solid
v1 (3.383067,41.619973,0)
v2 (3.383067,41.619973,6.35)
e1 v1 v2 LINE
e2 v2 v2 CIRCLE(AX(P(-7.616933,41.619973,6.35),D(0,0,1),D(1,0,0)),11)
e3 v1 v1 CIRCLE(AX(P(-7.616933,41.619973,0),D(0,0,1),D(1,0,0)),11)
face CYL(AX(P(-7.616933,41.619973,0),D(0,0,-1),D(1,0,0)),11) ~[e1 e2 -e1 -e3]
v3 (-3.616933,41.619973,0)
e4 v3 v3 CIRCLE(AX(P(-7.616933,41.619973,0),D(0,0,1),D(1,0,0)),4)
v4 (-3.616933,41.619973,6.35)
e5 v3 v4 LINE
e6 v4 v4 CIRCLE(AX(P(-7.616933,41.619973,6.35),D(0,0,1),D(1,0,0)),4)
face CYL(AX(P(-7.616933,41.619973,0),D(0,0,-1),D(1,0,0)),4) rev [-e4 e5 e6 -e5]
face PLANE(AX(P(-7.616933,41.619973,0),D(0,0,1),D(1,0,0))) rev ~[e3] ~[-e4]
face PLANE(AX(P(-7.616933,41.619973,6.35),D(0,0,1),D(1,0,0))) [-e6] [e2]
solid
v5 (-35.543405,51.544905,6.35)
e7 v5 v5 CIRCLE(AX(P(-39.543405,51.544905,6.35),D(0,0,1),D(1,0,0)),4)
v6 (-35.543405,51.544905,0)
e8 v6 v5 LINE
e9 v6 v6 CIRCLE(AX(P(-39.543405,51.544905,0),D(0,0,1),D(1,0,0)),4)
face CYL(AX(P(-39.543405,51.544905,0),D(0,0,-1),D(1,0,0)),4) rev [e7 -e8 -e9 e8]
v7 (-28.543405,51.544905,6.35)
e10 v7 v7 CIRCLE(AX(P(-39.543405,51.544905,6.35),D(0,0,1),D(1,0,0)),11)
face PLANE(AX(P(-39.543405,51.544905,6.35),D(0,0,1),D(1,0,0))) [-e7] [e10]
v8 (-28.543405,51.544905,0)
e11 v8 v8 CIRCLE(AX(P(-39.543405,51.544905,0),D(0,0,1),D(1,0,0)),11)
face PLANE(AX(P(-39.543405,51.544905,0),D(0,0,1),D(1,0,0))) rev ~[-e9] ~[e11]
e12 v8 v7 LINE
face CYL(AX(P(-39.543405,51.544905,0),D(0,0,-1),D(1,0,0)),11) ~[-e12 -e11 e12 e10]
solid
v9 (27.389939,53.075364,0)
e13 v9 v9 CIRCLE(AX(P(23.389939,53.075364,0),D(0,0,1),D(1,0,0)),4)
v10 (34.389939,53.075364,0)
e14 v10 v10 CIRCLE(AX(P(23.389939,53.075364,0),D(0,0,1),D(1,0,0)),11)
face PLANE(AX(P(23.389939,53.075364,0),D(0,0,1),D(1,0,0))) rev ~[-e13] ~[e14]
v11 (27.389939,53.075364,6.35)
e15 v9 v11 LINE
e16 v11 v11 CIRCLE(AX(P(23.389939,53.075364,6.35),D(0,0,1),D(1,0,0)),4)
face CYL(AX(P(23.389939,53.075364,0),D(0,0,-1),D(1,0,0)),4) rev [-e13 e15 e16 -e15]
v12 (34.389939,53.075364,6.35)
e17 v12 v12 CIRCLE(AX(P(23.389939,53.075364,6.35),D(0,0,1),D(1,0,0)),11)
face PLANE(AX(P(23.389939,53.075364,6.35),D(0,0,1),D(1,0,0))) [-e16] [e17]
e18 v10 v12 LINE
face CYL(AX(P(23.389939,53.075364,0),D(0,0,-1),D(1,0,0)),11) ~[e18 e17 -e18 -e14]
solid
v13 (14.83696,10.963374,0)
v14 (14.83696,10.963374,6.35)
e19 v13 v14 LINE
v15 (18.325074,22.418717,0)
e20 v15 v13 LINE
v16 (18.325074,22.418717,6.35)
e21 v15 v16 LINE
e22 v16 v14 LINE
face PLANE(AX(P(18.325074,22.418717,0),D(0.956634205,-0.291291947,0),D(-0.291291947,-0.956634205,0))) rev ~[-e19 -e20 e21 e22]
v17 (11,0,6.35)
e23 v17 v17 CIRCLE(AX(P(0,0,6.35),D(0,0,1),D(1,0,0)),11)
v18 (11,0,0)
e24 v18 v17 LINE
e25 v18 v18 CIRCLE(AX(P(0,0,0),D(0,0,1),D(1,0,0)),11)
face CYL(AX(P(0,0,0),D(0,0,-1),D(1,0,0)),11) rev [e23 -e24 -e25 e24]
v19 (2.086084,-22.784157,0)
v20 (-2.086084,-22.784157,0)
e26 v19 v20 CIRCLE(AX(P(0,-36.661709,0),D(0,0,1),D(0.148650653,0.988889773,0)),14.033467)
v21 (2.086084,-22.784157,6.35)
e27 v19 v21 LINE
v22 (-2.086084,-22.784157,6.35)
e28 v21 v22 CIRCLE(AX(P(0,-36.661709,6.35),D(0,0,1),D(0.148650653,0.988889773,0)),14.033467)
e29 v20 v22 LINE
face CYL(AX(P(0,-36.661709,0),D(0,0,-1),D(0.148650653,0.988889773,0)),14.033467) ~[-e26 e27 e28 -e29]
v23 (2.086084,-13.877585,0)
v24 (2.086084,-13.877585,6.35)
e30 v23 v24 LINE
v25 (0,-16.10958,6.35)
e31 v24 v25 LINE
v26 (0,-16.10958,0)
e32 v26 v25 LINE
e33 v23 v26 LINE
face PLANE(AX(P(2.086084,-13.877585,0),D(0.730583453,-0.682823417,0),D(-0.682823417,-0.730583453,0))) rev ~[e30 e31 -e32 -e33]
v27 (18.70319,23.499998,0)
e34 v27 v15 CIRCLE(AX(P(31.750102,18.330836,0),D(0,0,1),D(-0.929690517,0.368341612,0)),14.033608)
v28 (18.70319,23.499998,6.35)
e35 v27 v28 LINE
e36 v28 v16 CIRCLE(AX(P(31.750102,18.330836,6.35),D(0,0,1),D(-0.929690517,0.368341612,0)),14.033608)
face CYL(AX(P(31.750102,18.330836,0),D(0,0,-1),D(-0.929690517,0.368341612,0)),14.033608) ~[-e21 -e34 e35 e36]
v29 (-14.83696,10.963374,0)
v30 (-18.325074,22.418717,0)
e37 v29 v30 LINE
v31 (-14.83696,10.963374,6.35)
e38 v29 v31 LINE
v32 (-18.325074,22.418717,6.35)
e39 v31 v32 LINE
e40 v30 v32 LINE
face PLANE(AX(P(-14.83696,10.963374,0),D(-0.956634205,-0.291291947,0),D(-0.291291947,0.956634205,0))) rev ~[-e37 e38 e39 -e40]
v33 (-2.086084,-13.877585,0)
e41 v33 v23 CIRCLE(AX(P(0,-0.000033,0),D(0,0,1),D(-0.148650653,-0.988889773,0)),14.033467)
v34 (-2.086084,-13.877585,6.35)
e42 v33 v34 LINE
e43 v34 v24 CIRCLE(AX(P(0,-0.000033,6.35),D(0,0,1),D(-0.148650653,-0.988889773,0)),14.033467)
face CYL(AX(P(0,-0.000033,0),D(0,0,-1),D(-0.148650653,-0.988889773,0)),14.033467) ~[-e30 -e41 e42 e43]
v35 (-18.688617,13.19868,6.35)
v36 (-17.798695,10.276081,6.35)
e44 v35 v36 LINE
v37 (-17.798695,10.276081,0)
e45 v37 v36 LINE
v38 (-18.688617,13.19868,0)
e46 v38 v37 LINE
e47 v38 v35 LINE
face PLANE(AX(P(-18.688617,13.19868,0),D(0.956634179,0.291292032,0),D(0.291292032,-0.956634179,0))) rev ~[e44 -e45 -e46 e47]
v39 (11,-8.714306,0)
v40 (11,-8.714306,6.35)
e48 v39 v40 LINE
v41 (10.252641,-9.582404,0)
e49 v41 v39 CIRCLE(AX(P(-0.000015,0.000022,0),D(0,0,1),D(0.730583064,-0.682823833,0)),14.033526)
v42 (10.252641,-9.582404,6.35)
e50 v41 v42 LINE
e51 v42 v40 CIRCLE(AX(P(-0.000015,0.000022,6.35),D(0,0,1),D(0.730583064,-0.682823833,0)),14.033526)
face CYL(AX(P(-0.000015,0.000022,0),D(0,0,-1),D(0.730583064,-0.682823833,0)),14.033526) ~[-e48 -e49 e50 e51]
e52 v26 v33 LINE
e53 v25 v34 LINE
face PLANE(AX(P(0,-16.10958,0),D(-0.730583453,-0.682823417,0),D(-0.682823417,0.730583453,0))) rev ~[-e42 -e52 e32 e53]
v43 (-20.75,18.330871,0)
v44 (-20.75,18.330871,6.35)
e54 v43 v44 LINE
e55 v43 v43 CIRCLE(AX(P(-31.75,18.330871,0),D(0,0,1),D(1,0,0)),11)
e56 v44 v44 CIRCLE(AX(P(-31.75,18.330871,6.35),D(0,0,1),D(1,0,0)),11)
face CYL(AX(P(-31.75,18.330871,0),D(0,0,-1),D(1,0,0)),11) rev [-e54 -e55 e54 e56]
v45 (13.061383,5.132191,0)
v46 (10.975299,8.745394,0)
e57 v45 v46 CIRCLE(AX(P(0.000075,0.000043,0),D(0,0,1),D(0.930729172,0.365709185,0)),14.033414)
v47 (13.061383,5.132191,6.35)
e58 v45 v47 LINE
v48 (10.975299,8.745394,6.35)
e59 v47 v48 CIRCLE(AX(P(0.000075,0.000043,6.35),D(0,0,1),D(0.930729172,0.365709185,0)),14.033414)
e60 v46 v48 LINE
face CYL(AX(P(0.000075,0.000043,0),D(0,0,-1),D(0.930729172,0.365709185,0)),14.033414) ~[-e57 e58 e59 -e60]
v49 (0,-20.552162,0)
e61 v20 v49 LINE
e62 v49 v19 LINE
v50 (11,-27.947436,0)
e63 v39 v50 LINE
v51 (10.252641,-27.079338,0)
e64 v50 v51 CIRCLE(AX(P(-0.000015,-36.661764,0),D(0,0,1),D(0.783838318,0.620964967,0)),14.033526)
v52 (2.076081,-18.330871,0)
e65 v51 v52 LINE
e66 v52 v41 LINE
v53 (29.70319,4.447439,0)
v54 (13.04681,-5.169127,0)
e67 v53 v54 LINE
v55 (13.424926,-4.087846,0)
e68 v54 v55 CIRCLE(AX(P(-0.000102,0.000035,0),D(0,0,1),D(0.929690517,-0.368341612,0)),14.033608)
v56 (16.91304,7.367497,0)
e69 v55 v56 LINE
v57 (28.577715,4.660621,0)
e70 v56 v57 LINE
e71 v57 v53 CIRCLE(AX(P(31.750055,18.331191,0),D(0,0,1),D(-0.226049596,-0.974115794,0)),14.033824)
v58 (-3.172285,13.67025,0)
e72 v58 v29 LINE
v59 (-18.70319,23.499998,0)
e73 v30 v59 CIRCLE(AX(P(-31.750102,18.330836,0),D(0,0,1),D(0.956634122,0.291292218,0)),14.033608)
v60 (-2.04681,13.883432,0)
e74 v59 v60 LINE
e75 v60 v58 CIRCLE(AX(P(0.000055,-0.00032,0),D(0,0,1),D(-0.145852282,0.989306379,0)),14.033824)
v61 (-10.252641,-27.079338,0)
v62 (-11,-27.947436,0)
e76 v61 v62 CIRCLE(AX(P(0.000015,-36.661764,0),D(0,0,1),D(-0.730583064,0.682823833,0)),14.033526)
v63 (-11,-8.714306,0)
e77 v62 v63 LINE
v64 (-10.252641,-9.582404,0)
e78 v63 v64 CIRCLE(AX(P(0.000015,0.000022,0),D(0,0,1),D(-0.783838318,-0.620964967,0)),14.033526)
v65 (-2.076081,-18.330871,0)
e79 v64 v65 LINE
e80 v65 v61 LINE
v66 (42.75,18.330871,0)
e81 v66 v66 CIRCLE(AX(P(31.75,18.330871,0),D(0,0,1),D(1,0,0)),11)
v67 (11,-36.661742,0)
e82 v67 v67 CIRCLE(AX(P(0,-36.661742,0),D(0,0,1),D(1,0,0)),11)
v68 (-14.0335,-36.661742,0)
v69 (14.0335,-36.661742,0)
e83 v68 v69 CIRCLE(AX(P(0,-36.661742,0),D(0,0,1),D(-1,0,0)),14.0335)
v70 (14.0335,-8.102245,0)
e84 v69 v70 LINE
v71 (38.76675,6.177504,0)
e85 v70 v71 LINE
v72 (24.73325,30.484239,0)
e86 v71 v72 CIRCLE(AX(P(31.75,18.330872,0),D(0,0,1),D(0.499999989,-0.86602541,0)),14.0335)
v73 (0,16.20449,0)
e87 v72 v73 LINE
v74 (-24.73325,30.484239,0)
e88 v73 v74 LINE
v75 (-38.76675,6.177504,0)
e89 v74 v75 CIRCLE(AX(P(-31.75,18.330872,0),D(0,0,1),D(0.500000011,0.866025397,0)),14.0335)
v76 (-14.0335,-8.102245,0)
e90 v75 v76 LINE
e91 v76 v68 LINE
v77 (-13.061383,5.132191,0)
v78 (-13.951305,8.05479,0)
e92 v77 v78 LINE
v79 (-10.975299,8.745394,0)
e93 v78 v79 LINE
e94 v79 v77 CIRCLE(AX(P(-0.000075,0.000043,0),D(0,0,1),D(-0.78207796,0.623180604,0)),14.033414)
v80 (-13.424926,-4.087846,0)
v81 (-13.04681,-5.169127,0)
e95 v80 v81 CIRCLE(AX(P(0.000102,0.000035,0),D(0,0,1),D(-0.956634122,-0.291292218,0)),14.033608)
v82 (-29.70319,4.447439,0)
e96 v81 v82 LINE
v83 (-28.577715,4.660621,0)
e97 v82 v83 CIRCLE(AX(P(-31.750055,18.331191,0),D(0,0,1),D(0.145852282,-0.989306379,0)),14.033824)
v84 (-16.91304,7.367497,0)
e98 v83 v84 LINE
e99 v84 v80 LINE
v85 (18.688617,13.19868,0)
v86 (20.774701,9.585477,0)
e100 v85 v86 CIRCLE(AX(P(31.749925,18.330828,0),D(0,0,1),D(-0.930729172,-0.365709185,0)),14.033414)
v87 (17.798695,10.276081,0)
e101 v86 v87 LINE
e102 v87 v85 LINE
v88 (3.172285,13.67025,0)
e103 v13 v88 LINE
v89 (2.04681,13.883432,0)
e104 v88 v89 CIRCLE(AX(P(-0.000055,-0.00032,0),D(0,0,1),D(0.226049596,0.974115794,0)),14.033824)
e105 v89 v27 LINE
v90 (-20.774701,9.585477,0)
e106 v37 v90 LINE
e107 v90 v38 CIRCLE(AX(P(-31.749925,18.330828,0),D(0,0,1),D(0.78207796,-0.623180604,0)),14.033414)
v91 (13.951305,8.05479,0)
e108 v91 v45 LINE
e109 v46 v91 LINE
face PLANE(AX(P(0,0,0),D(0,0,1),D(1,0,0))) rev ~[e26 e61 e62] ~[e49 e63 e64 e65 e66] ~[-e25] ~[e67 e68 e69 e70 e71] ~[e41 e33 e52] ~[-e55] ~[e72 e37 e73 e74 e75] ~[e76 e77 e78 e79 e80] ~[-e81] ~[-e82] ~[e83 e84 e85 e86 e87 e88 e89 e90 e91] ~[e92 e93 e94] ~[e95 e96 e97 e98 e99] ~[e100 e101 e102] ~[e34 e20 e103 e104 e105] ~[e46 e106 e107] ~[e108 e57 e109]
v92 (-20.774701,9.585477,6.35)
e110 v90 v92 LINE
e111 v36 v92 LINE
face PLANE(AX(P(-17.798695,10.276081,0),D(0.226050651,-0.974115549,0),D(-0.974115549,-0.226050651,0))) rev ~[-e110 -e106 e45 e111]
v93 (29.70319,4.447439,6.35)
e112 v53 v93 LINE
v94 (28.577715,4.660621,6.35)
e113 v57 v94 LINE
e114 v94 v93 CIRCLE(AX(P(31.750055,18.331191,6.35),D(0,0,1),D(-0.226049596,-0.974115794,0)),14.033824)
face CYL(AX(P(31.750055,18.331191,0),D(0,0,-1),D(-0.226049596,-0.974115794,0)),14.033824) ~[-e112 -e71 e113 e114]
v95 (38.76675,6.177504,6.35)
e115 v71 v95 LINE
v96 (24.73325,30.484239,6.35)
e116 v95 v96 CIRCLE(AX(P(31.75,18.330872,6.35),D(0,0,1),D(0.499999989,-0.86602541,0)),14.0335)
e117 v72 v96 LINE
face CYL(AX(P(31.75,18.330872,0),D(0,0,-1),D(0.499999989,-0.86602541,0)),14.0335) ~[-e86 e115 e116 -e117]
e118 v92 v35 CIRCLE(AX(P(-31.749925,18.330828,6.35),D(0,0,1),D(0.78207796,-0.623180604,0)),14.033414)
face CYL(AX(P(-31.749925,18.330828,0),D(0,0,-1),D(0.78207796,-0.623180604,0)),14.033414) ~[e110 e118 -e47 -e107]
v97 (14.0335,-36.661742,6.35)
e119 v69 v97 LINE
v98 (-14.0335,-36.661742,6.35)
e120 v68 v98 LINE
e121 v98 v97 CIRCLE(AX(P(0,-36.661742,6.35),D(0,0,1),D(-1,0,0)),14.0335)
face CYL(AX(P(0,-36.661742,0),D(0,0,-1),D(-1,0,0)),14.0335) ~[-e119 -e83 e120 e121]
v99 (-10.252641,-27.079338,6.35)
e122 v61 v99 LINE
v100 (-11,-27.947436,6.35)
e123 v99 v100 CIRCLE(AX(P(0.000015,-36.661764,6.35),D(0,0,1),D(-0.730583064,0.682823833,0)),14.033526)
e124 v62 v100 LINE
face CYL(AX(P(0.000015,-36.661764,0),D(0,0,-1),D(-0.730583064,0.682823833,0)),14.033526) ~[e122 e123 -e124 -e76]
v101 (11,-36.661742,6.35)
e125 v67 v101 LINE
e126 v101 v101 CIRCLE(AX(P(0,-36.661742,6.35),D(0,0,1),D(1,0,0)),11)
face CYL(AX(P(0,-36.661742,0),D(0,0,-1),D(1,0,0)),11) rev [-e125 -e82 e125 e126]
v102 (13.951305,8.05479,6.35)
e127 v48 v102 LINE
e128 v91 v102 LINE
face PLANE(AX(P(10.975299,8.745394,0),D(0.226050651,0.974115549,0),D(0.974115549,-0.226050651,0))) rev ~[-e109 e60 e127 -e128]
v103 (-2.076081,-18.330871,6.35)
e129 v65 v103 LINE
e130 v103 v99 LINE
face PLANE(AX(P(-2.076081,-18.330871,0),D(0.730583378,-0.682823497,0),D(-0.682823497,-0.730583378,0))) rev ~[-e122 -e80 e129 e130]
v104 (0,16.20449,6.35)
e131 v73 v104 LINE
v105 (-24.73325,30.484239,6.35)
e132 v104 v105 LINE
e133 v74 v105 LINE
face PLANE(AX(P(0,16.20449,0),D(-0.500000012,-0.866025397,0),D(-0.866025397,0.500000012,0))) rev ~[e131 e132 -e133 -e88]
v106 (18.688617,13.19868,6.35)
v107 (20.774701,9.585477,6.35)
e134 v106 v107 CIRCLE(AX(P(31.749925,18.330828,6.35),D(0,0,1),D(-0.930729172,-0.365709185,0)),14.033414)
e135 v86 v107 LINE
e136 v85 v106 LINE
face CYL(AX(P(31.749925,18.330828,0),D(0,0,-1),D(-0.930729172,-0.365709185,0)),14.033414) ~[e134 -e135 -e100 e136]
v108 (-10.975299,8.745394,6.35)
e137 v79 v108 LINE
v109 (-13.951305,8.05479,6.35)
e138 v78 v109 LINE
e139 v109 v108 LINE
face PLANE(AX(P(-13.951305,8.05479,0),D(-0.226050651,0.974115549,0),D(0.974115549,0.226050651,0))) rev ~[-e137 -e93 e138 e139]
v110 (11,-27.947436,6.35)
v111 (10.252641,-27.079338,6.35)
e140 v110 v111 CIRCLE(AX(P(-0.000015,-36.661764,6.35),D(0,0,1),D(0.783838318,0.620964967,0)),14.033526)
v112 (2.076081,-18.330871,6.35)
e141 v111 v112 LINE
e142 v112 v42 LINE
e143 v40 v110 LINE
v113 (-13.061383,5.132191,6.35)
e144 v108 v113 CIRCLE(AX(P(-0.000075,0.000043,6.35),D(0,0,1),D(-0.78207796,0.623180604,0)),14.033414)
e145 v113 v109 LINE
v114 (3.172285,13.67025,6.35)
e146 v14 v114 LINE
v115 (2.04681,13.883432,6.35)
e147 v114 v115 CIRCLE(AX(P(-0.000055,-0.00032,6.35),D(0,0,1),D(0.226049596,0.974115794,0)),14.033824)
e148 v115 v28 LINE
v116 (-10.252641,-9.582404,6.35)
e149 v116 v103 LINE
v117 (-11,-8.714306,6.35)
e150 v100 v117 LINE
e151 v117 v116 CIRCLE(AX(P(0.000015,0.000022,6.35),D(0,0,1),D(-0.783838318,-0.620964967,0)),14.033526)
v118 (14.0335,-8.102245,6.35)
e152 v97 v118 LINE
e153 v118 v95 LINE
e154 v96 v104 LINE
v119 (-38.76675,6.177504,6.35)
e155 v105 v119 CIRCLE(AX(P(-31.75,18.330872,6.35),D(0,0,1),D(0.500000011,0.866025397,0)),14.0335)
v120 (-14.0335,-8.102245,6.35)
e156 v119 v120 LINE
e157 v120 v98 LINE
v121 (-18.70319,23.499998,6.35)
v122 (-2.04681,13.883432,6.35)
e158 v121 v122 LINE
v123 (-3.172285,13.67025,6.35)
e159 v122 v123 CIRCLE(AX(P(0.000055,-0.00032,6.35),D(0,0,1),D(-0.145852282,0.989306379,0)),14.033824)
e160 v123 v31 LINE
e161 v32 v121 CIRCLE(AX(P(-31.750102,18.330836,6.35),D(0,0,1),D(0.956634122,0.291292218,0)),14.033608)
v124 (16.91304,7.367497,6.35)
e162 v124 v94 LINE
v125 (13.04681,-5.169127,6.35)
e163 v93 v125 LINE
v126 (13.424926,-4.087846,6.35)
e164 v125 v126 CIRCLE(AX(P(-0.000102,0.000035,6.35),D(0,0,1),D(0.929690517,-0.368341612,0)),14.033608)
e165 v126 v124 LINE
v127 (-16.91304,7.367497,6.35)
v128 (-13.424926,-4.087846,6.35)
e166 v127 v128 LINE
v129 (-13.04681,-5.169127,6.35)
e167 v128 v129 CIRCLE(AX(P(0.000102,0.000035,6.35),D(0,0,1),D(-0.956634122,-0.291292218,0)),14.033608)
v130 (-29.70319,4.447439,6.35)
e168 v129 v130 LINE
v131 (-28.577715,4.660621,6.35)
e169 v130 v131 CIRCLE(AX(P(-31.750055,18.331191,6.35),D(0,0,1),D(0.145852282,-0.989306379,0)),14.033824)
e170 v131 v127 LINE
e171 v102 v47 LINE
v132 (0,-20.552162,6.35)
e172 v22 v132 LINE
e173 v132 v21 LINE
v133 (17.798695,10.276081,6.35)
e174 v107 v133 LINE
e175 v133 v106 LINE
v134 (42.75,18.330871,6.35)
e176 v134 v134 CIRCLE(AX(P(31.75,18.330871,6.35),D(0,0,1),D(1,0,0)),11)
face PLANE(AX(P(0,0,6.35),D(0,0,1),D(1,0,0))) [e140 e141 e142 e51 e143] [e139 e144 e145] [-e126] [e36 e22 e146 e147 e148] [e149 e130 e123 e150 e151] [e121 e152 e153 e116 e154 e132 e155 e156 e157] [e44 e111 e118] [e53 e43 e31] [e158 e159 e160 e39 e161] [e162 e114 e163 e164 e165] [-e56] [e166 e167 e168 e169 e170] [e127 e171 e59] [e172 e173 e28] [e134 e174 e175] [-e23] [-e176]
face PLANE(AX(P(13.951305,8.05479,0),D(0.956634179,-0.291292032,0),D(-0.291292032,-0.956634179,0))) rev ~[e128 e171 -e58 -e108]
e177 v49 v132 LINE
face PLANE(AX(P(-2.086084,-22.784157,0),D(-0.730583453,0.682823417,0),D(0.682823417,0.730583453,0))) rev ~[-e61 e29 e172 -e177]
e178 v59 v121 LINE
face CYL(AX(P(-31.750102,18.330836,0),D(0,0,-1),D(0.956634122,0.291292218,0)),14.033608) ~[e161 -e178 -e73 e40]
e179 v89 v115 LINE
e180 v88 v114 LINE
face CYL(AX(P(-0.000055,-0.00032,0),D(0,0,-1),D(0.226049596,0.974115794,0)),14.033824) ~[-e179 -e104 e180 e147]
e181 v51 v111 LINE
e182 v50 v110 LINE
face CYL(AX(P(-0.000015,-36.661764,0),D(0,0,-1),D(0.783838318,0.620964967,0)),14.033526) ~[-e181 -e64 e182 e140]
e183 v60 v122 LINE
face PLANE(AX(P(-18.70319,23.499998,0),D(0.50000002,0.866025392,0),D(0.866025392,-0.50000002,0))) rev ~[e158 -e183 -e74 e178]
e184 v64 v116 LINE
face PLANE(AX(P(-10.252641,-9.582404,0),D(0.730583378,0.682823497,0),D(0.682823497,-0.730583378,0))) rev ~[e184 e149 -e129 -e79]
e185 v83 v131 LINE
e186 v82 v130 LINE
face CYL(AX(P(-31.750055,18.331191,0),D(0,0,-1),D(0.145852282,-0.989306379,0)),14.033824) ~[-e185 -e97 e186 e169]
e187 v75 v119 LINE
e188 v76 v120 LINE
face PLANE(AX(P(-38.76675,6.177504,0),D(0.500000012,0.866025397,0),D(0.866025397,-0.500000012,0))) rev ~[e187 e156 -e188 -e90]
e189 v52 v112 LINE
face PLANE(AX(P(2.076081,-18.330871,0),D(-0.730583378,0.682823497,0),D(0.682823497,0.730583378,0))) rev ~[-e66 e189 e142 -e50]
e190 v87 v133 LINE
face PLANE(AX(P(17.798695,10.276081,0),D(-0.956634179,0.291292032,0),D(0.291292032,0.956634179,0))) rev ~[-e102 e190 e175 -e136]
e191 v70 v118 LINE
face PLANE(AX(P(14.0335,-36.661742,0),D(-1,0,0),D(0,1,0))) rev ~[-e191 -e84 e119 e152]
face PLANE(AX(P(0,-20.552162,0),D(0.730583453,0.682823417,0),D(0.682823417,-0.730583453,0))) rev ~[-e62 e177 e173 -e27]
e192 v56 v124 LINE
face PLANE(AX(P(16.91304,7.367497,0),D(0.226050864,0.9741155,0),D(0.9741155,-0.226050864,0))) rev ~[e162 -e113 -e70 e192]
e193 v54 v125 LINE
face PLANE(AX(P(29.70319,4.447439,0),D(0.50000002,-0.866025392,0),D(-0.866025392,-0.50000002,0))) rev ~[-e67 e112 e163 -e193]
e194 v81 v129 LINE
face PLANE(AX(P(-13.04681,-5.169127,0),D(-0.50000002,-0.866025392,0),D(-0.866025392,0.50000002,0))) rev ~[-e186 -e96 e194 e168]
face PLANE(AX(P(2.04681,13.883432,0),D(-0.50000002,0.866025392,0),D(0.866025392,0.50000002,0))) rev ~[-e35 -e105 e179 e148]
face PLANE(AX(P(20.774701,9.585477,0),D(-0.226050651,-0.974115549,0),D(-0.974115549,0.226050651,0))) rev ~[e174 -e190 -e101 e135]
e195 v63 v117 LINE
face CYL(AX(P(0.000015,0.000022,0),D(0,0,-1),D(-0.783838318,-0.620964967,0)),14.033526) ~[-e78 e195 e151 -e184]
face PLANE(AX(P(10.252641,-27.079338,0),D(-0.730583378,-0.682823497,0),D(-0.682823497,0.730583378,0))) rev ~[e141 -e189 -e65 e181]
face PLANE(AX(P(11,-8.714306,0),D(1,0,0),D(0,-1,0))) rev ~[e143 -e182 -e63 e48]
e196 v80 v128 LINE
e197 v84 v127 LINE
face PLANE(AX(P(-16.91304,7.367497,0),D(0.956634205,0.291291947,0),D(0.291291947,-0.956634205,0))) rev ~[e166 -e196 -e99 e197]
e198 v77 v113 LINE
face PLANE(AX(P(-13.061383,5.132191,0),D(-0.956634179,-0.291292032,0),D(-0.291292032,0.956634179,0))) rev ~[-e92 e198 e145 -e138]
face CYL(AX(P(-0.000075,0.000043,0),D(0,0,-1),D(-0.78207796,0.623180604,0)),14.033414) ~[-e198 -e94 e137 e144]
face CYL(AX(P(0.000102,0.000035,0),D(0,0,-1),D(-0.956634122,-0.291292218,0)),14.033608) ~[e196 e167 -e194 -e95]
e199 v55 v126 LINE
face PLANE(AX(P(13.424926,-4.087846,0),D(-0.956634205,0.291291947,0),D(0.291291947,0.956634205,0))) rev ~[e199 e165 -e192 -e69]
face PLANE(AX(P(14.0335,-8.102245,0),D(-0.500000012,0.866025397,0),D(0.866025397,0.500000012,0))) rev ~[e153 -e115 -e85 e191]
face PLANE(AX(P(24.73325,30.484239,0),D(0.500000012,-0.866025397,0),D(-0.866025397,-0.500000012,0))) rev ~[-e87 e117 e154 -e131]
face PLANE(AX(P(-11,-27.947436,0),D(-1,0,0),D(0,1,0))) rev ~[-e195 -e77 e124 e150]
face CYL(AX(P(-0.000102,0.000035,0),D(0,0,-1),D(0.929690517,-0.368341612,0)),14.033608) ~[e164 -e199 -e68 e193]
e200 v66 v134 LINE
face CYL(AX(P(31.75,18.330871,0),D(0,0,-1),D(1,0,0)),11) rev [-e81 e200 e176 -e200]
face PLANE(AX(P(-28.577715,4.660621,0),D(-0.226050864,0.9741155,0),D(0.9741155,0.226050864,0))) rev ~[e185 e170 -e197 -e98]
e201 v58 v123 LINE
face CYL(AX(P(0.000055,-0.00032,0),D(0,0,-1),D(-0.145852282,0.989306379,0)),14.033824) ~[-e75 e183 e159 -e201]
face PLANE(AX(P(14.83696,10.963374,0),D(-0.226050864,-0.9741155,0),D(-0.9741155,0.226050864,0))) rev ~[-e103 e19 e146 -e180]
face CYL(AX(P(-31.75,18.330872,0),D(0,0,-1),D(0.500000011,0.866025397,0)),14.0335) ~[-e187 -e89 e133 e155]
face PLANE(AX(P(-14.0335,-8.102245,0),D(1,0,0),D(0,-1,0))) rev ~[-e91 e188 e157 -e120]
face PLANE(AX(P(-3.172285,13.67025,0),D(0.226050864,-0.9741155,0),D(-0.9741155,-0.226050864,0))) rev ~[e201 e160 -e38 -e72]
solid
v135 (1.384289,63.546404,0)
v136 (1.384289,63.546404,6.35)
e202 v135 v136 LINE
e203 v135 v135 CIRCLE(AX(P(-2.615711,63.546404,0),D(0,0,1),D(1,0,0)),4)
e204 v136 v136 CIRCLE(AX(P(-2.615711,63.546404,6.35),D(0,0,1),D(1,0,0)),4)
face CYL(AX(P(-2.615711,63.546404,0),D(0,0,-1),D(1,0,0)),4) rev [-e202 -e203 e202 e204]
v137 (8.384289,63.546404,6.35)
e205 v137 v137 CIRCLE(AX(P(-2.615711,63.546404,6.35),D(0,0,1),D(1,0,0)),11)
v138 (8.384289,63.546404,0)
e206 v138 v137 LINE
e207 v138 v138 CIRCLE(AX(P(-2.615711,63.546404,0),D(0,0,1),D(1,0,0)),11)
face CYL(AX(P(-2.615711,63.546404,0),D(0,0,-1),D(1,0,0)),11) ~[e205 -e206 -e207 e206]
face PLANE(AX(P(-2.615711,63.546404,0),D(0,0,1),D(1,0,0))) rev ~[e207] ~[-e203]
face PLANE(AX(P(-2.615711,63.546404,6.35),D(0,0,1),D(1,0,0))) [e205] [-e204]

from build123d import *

# Parameters (mm, degrees)
F0_R     = 11
F0_R_2   = 4
F1_DEPTH = 6.35


with BuildPart() as f1:
    # F0 (on Top) → F1 (new body)
    with BuildSketch(Plane.XY):
        with BuildLine():
            Line((24.73325, 30.484239), (0, 16.20449))
            Line((0, 16.20449), (-24.73325, 30.484239))
            ThreePointArc((-24.73325, 30.484239), (-43.903368, 25.347621), (-38.76675, 6.177504))
            Line((-38.76675, 6.177504), (-14.0335, -8.102245))
            Line((-14.0335, -8.102245), (-14.0335, -36.661742))
            ThreePointArc((-14.0335, -36.661742), (0, -50.695242), (14.0335, -36.661742))
            Line((14.0335, -36.661742), (14.0335, -8.102245))
            Line((14.0335, -8.102245), (38.76675, 6.177504))
            ThreePointArc((38.76675, 6.177504), (43.903368, 25.347621), (24.73325, 30.484239))
        make_face()
        with BuildLine():
            Line((-2.076081, -18.330871), (-10.252641, -27.079338))
            ThreePointArc((-10.252641, -27.079338), (-10.635182, -27.505759), (-11, -27.947436))
            Line((-11, -27.947436), (-11, -8.714306))
            ThreePointArc((-11, -8.714306), (-10.635182, -9.155983), (-10.252641, -9.582404))
            Line((-10.252641, -9.582404), (-2.076081, -18.330871))
        make_face(mode=Mode.SUBTRACT)
        with BuildLine():
            Line((-16.91304, 7.367497), (-13.424926, -4.087846))
            ThreePointArc((-13.424926, -4.087846), (-13.246905, -4.632346), (-13.04681, -5.169127))
            Line((-13.04681, -5.169127), (-29.70319, 4.447439))
            ThreePointArc((-29.70319, 4.447439), (-29.138277, 4.542542), (-28.577715, 4.660621))
            Line((-28.577715, 4.660621), (-16.91304, 7.367497))
        make_face(mode=Mode.SUBTRACT)
        with BuildLine():
            Line((-17.798695, 10.276081), (-20.774701, 9.585477))
            ThreePointArc((-20.774701, 9.585477), (-19.596632, 11.314121), (-18.688617, 13.19868))
            Line((-18.688617, 13.19868), (-17.798695, 10.276081))
        make_face(mode=Mode.SUBTRACT)
        with BuildLine():
            Line((-13.061383, 5.132191), (-13.951305, 8.05479))
            Line((-13.951305, 8.05479), (-10.975299, 8.745394))
            ThreePointArc((-10.975299, 8.745394), (-12.153368, 7.01675), (-13.061383, 5.132191))
        make_face(mode=Mode.SUBTRACT)
        with Locations((0, -36.661742)):
            Circle(F0_R, mode=Mode.SUBTRACT)
        with BuildLine():
            ThreePointArc((2.086084, -22.784157), (0, -22.628242), (-2.086084, -22.784157))
            Line((-2.086084, -22.784157), (0, -20.552162))
            Line((0, -20.552162), (2.086084, -22.784157))
        make_face(mode=Mode.SUBTRACT)
        with BuildLine():
            Line((0, -16.10958), (-2.086084, -13.877585))
            ThreePointArc((-2.086084, -13.877585), (0, -14.0335), (2.086084, -13.877585))
            Line((2.086084, -13.877585), (0, -16.10958))
        make_face(mode=Mode.SUBTRACT)
        with BuildLine():
            Line((11, -8.714306), (11, -27.947436))
            ThreePointArc((11, -27.947436), (10.635182, -27.505759), (10.252641, -27.079338))
            Line((10.252641, -27.079338), (2.076081, -18.330871))
            Line((2.076081, -18.330871), (10.252641, -9.582404))
            ThreePointArc((10.252641, -9.582404), (10.635182, -9.155983), (11, -8.714306))
        make_face(mode=Mode.SUBTRACT)
        Circle(F0_R, mode=Mode.SUBTRACT)
        with BuildLine():
            Line((29.70319, 4.447439), (13.04681, -5.169127))
            ThreePointArc((13.04681, -5.169127), (13.246905, -4.632346), (13.424926, -4.087846))
            Line((13.424926, -4.087846), (16.91304, 7.367497))
            Line((16.91304, 7.367497), (28.577715, 4.660621))
            ThreePointArc((28.577715, 4.660621), (29.138277, 4.542542), (29.70319, 4.447439))
        make_face(mode=Mode.SUBTRACT)
        with BuildLine():
            Line((13.951305, 8.05479), (13.061383, 5.132191))
            ThreePointArc((13.061383, 5.132191), (12.153368, 7.01675), (10.975299, 8.745394))
            Line((10.975299, 8.745394), (13.951305, 8.05479))
        make_face(mode=Mode.SUBTRACT)
        with BuildLine():
            Line((17.798695, 10.276081), (18.688617, 13.19868))
            ThreePointArc((18.688617, 13.19868), (19.596632, 11.314121), (20.774701, 9.585477))
            Line((20.774701, 9.585477), (17.798695, 10.276081))
        make_face(mode=Mode.SUBTRACT)
        with Locations((-31.75, 18.330871)):
            Circle(F0_R, mode=Mode.SUBTRACT)
        with BuildLine():
            Line((-14.83696, 10.963374), (-18.325074, 22.418717))
            ThreePointArc((-18.325074, 22.418717), (-18.503095, 22.963217), (-18.70319, 23.499998))
            Line((-18.70319, 23.499998), (-2.04681, 13.883432))
            ThreePointArc((-2.04681, 13.883432), (-2.611723, 13.788329), (-3.172285, 13.67025))
            Line((-3.172285, 13.67025), (-14.83696, 10.963374))
        make_face(mode=Mode.SUBTRACT)
        with BuildLine():
            ThreePointArc((3.172285, 13.67025), (2.611723, 13.788329), (2.04681, 13.883432))
            Line((2.04681, 13.883432), (18.70319, 23.499998))
            ThreePointArc((18.70319, 23.499998), (18.503095, 22.963217), (18.325074, 22.418717))
            Line((18.325074, 22.418717), (14.83696, 10.963374))
            Line((14.83696, 10.963374), (3.172285, 13.67025))
        make_face(mode=Mode.SUBTRACT)
        with Locations((31.75, 18.330871)):
            Circle(F0_R, mode=Mode.SUBTRACT)
        with Locations((-39.543405, 51.544905)):
            Circle(F0_R)
        with Locations((-39.543405, 51.544905)):
            Circle(F0_R_2, mode=Mode.SUBTRACT)
        with Locations((-7.616933, 41.619973)):
            Circle(F0_R)
        with Locations((-7.616933, 41.619973)):
            Circle(F0_R_2, mode=Mode.SUBTRACT)
        with Locations((-2.615711, 63.546404)):
            Circle(F0_R)
        with Locations((-2.615711, 63.546404)):
            Circle(F0_R_2, mode=Mode.SUBTRACT)
        with Locations((23.389939, 53.075364)):
            Circle(F0_R)
        with Locations((23.389939, 53.075364)):
            Circle(F0_R_2, mode=Mode.SUBTRACT)
    extrude(amount=F1_DEPTH)


solid = f1.part
